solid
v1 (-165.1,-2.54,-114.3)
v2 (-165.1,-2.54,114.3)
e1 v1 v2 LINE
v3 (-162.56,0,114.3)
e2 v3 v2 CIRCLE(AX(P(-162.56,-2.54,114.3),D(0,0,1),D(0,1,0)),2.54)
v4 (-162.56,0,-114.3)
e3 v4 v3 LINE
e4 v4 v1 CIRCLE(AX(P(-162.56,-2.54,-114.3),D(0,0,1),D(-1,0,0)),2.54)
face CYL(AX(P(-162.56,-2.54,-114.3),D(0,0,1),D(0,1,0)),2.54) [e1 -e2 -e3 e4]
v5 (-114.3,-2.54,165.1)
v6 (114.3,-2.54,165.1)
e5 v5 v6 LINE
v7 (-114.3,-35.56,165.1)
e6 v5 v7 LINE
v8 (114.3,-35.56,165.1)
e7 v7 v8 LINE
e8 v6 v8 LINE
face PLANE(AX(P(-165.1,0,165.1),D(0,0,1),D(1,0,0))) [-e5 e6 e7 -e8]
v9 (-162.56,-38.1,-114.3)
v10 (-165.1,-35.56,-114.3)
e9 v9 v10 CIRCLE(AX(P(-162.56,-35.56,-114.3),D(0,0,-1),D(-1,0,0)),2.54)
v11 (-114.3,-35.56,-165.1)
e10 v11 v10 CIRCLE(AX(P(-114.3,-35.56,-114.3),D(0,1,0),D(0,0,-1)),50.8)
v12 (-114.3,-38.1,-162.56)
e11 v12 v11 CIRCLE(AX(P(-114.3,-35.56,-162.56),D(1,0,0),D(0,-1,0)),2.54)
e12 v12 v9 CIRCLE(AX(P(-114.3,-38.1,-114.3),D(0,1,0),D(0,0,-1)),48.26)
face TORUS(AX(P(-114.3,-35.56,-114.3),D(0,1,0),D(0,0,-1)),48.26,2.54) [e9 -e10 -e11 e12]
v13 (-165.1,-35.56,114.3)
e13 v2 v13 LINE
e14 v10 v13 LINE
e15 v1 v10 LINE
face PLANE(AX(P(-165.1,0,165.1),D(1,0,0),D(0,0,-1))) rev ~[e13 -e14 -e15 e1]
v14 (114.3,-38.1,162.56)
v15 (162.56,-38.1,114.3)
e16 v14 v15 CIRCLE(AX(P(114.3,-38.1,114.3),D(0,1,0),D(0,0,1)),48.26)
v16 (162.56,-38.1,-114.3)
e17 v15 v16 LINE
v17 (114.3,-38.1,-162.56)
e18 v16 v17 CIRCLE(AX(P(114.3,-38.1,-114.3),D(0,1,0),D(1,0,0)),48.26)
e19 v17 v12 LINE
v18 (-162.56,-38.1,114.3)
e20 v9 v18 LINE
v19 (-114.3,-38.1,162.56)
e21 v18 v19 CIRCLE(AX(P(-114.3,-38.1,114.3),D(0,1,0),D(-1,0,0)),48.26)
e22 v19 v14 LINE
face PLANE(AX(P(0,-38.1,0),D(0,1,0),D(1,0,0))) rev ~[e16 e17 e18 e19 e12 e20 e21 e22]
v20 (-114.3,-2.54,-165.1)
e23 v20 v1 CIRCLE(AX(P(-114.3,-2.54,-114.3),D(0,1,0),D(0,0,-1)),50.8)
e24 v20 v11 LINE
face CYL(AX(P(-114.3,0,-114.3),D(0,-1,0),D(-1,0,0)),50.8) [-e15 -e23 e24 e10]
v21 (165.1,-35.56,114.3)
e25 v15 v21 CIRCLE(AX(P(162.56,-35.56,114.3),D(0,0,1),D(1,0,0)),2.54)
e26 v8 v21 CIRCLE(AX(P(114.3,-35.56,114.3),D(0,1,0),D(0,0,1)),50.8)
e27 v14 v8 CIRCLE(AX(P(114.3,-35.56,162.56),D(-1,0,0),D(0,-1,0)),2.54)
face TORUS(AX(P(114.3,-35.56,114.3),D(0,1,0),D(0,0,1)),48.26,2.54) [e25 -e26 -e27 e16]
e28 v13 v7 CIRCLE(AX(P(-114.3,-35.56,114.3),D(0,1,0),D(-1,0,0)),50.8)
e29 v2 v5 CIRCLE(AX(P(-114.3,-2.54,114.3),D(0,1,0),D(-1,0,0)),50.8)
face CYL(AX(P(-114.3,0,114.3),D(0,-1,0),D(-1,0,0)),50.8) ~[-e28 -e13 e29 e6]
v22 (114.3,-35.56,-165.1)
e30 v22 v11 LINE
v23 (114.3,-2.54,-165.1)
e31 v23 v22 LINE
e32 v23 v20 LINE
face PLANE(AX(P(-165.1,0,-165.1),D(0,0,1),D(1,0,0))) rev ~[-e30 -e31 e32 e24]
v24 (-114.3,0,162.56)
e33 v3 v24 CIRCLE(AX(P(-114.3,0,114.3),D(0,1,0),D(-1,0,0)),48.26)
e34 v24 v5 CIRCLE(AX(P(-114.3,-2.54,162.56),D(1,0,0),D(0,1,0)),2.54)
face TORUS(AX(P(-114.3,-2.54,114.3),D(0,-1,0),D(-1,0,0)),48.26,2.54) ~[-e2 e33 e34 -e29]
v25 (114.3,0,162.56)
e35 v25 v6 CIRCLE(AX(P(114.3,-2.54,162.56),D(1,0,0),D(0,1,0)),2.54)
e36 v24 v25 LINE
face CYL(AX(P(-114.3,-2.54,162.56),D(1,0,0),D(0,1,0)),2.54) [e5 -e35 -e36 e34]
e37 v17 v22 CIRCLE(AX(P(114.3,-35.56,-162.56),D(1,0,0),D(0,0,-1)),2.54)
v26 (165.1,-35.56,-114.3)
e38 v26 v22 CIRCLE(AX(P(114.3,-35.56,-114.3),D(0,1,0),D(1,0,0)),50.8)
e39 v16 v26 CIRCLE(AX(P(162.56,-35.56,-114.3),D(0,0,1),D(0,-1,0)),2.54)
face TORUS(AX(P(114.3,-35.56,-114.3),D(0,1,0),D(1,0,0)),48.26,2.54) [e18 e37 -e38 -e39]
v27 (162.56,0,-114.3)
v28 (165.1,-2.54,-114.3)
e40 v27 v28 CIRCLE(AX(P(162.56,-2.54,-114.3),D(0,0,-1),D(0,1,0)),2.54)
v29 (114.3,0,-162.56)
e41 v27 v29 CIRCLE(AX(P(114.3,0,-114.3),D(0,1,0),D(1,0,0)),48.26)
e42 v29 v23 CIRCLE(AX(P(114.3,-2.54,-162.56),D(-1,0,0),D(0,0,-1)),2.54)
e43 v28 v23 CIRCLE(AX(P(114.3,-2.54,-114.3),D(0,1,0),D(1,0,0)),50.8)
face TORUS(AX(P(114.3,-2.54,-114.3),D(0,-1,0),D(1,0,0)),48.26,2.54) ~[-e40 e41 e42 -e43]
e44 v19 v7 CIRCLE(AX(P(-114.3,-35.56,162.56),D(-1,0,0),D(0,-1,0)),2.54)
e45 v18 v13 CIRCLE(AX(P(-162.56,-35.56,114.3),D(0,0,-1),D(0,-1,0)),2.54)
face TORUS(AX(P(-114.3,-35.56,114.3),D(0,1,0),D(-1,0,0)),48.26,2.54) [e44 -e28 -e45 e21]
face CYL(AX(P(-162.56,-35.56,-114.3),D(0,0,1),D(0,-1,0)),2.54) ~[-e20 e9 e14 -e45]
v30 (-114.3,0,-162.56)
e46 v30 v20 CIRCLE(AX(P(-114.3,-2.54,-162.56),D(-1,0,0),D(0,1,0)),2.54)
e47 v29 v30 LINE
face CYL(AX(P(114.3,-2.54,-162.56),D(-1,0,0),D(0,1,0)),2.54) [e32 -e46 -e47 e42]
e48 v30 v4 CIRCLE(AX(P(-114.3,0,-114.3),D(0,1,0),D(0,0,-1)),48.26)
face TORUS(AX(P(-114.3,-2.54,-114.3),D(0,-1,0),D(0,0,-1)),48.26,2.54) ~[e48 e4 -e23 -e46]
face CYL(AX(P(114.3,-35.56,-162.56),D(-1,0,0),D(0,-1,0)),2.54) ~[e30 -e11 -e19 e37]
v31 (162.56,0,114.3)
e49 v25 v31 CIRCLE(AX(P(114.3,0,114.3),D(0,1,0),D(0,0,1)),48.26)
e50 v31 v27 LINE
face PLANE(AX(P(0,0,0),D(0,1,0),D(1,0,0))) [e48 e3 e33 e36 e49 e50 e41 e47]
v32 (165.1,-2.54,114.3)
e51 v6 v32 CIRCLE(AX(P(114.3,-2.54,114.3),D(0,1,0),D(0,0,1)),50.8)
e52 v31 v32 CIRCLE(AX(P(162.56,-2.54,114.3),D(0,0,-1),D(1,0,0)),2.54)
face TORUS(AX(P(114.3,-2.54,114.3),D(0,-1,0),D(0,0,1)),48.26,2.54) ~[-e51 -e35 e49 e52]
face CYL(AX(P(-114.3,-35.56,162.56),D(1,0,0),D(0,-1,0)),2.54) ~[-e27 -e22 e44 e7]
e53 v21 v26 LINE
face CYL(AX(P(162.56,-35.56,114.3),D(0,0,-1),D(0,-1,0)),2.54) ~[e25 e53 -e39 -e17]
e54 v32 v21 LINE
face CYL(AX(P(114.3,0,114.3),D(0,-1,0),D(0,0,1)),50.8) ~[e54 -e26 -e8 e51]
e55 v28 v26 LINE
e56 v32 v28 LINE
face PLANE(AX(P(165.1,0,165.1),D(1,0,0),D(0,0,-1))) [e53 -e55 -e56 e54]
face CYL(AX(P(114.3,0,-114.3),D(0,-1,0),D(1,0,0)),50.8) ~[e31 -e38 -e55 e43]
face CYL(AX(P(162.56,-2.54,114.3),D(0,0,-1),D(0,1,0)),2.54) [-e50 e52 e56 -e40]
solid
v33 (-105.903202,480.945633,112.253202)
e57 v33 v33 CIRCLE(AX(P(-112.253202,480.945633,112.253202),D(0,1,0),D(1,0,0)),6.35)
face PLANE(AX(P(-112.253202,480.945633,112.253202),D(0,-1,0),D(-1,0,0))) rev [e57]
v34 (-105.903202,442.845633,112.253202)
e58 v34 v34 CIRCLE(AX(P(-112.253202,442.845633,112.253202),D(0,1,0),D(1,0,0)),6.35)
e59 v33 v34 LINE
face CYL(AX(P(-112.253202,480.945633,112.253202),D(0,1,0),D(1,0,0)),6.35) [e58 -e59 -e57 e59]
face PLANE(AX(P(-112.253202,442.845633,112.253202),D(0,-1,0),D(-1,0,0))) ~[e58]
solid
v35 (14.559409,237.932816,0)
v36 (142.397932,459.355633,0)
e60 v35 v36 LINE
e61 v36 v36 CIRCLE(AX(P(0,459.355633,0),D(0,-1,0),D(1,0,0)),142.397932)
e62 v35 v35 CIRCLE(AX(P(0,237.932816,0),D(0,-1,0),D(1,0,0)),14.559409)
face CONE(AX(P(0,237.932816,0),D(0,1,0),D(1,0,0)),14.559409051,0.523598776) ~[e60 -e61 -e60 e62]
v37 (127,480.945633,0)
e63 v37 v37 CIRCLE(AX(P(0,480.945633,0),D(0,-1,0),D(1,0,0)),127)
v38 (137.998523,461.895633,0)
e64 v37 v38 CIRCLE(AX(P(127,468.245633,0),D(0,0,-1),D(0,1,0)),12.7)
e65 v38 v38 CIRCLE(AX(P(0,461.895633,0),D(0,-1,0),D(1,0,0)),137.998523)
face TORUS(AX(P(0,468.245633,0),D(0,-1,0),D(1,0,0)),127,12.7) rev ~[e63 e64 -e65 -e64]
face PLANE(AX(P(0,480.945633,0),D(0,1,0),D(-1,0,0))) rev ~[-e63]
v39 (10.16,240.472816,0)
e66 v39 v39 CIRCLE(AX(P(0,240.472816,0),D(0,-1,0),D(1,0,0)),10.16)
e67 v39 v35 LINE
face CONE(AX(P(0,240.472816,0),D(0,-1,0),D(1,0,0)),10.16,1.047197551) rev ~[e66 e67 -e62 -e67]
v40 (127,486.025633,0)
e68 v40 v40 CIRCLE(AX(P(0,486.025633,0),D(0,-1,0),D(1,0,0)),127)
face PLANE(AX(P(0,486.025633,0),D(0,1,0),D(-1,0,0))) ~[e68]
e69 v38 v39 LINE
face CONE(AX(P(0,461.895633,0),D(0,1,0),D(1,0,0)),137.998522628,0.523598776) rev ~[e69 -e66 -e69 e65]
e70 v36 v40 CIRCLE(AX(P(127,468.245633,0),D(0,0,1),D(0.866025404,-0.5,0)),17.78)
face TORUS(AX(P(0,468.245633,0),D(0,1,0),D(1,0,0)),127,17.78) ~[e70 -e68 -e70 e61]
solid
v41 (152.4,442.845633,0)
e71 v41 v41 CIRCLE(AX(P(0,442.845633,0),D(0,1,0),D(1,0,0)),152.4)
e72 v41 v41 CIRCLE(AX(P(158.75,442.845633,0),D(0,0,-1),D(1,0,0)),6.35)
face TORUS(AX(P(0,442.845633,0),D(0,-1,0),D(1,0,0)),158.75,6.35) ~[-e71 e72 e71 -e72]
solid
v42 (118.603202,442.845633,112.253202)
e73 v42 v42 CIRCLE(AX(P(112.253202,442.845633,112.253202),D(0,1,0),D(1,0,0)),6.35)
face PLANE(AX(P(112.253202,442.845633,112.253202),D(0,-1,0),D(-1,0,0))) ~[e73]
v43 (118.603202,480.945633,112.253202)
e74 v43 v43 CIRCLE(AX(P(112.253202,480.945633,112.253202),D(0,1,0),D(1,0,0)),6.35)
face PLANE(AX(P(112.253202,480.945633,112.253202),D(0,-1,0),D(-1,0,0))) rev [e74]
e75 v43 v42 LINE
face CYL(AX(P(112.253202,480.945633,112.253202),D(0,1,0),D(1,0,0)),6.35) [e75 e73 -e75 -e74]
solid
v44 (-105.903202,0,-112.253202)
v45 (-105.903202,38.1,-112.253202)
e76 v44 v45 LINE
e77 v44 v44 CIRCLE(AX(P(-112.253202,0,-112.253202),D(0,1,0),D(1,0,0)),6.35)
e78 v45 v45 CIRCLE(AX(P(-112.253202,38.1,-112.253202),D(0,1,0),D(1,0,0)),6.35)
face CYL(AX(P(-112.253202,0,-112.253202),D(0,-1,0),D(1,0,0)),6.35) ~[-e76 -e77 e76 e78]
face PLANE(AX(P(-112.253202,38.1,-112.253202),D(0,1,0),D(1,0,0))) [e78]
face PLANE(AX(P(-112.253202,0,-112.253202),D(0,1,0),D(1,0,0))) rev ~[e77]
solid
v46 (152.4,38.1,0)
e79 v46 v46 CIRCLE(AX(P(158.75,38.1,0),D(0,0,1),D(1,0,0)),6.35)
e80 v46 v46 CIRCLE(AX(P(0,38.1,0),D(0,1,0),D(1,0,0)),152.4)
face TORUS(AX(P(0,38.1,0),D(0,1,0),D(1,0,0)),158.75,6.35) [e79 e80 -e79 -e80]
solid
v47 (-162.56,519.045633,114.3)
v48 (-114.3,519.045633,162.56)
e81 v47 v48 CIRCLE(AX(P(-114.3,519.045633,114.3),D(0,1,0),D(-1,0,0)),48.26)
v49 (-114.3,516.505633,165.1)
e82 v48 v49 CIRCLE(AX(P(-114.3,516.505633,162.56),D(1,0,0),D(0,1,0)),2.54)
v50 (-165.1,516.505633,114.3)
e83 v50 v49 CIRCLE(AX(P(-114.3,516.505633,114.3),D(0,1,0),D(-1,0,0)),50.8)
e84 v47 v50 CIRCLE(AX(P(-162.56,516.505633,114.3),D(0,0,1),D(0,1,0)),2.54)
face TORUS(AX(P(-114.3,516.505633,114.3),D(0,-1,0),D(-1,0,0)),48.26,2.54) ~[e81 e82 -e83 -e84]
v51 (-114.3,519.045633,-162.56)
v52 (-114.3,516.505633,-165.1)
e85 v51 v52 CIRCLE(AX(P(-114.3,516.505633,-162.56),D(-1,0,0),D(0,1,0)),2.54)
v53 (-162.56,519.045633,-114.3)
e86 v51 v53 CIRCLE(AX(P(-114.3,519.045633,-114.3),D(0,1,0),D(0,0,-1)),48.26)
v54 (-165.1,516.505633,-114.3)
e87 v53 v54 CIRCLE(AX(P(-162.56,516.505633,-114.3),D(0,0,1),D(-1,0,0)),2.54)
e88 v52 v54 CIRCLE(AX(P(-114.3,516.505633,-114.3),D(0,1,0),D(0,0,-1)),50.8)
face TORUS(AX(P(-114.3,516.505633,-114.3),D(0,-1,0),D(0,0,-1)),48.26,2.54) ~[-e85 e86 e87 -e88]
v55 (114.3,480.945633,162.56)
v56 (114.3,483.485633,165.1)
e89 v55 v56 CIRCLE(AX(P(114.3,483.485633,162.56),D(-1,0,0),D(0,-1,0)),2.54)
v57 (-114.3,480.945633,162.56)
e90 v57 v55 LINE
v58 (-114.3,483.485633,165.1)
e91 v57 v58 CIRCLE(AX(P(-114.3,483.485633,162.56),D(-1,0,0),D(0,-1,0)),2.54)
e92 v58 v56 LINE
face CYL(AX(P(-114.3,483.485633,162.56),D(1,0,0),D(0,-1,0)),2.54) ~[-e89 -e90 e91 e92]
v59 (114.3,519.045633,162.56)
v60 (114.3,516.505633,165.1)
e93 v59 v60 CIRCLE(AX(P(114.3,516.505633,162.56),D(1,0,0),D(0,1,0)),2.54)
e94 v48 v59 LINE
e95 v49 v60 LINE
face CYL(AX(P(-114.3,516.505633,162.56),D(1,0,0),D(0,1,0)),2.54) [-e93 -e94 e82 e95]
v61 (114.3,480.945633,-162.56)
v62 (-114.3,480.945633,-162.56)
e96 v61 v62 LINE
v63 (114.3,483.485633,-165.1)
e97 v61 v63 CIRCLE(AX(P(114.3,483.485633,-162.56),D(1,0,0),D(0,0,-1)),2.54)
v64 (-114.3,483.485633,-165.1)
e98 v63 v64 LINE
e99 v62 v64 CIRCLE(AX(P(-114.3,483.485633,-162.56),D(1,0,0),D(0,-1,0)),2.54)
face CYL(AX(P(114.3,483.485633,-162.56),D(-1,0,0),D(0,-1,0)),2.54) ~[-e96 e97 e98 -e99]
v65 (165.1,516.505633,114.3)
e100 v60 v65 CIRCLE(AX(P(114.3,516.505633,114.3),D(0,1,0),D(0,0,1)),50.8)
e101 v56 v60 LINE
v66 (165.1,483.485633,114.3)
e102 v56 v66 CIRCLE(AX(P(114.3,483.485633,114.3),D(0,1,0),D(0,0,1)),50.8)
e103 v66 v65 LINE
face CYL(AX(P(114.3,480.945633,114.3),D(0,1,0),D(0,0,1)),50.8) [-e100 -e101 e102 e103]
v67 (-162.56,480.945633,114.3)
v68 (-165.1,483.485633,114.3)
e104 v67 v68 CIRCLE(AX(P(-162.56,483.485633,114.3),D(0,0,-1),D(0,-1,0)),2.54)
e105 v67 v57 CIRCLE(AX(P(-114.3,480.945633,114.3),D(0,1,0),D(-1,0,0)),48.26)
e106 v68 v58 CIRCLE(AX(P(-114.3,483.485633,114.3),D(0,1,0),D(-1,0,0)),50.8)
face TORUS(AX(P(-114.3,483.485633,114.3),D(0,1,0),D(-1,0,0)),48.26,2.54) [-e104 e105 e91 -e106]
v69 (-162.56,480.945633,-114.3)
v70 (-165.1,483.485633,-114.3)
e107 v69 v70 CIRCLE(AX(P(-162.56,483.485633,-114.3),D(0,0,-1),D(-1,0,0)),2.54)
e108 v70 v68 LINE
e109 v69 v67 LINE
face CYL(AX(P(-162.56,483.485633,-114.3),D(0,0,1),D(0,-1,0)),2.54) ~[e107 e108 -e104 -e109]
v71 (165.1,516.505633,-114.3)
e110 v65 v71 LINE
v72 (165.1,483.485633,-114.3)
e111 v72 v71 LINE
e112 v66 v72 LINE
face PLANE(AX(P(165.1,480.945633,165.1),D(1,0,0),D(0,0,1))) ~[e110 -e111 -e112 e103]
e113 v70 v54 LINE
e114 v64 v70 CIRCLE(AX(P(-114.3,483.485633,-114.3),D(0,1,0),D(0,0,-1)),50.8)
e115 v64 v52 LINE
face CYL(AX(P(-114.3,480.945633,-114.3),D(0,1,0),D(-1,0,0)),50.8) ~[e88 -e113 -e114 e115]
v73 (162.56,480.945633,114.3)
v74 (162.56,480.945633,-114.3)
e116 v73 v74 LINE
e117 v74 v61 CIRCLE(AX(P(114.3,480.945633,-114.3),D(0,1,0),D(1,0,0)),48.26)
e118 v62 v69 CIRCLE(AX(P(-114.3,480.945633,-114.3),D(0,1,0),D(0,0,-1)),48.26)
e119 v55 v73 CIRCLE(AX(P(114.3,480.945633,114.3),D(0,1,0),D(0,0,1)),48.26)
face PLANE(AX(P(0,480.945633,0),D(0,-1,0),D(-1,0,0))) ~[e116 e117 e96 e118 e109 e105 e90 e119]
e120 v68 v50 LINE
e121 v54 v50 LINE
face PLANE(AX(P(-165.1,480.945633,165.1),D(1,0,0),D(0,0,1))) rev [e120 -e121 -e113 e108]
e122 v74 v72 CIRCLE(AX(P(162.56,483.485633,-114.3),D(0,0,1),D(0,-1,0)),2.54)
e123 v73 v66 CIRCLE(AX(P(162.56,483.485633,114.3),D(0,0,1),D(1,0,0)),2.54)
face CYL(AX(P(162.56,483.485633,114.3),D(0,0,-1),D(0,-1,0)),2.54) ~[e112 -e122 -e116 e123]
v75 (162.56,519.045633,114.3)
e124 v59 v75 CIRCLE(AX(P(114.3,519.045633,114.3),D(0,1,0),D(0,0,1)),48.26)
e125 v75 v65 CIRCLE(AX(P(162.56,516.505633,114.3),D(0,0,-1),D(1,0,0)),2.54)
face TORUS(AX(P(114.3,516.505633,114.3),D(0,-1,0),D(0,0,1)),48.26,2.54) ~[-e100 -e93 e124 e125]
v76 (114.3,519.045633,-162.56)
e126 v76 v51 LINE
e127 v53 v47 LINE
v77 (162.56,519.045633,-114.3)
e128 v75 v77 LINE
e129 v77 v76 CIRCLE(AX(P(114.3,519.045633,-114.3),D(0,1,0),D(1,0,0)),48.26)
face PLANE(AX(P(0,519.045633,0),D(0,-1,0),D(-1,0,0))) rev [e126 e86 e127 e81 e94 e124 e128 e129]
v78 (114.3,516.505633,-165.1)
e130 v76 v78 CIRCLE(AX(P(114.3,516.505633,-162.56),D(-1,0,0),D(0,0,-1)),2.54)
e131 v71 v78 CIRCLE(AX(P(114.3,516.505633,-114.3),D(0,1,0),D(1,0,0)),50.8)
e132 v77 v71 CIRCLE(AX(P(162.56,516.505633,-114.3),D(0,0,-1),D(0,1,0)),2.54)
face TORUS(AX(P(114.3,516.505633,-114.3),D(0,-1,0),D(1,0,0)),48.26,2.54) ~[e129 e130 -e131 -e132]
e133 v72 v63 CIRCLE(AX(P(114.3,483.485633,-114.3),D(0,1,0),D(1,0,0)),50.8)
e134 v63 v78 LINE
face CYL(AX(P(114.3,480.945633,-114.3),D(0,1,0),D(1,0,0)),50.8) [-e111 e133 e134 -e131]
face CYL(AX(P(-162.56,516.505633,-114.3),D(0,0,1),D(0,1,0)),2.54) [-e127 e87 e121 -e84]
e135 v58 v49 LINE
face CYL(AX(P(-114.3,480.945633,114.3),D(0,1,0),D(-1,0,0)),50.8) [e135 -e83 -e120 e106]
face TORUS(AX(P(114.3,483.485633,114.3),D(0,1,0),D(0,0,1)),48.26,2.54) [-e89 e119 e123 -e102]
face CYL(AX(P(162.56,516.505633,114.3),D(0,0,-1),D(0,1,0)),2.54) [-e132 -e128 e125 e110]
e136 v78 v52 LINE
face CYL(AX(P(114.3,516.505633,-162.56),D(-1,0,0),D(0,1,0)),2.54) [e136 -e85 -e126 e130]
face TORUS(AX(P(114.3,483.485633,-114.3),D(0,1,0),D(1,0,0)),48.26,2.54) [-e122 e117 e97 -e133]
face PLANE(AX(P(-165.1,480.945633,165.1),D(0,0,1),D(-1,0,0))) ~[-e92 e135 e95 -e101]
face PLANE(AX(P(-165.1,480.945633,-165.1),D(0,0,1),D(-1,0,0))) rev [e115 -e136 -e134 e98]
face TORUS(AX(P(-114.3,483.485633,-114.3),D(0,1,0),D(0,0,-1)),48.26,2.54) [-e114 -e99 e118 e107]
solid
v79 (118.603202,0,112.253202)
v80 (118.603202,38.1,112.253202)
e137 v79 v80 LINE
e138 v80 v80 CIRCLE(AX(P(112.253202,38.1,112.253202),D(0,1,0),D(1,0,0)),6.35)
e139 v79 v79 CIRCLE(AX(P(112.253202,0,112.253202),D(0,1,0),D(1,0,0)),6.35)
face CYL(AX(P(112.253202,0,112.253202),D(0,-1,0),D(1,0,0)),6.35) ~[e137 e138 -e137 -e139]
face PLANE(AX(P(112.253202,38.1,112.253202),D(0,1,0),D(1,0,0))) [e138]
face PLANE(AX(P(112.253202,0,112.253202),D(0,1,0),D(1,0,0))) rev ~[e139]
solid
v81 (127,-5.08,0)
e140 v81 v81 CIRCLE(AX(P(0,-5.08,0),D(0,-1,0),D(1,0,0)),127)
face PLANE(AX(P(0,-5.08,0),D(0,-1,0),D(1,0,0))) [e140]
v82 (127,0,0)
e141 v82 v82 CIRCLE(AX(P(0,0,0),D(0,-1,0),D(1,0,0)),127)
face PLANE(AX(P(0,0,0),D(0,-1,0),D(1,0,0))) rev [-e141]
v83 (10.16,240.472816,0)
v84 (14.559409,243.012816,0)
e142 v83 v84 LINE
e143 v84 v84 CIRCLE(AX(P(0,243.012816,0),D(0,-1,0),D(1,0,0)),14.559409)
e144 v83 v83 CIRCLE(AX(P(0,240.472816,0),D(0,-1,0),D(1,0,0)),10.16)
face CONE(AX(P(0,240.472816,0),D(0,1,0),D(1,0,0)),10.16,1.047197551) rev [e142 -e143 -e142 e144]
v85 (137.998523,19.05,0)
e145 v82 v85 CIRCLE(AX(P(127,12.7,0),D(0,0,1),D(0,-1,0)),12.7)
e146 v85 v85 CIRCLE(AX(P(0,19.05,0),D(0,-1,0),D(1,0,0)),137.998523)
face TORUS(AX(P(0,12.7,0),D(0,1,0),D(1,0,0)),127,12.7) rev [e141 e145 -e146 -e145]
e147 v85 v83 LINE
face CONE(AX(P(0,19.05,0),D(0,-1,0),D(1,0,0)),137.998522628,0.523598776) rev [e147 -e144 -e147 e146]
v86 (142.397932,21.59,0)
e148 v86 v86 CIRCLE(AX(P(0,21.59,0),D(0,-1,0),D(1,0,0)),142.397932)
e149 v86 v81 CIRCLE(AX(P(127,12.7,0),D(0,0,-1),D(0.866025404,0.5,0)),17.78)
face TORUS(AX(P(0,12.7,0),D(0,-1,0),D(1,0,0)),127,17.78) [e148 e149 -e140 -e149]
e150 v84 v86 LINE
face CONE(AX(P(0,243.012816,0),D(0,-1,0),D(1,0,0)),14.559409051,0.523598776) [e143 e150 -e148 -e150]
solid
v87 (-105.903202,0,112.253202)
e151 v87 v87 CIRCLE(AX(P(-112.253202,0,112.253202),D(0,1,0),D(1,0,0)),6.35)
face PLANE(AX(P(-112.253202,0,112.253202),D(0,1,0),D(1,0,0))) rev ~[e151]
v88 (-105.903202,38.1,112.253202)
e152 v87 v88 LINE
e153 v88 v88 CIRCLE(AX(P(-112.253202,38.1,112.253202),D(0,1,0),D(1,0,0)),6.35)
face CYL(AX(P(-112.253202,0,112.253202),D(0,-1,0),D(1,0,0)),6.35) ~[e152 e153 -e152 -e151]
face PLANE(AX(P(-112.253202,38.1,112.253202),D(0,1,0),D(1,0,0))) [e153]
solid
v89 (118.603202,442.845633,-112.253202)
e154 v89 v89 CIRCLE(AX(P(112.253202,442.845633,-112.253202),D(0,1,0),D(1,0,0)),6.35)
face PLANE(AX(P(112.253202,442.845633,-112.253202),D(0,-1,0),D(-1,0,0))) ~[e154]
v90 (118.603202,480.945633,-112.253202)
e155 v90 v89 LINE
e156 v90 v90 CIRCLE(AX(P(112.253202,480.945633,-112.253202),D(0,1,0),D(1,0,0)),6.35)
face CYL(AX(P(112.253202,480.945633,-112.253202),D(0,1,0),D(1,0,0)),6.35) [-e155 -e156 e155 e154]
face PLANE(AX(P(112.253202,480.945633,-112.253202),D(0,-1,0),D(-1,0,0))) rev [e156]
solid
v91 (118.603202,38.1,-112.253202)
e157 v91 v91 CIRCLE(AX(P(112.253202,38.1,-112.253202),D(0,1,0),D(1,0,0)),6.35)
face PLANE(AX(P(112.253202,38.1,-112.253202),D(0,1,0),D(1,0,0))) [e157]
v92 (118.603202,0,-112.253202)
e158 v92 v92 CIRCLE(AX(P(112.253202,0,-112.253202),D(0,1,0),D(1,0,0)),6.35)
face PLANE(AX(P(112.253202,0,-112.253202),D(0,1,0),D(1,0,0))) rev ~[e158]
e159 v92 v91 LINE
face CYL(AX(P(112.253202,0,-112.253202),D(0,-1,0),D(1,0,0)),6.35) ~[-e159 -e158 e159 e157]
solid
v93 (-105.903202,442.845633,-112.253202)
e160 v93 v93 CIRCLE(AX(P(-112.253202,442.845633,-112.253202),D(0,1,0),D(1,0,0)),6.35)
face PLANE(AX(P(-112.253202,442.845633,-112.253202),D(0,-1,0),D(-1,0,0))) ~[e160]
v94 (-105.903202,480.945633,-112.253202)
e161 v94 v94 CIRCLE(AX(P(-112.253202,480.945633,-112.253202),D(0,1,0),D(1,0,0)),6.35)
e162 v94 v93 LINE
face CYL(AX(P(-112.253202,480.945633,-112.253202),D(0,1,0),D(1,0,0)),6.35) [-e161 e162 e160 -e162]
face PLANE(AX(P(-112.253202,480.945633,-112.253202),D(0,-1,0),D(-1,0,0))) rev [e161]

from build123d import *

# Parameters (mm, degrees)
SKETCH2_W             = 330.2
SKETCH2_H             = 330.2
BOSS_EXTRUDE1_DEPTH   = 38.1
FILLET1_R             = 50.8
FILLET2_R             = 2.54
SKETCH3_R             = 6.35
BOSS_EXTRUDE2_DEPTH   = 38.1
BOSS_EXTRUDE2_2_DEPTH = 38.1
BOSS_EXTRUDE2_3_DEPTH = 38.1
BOSS_EXTRUDE2_4_DEPTH = 38.1
SWEEP1_PROFILE_R      = 6.35


with BuildPart() as part:
    # Sketch1 → Revolve-Thin1 (revolve)
    with BuildSketch(Plane.XY):
        with BuildLine():
            Line((0, 0), (127, 0))
            ThreePointArc((127, 0), (137.998522628, 6.35), (137.998522628, 19.05))
            Line((137.998522628, 19.05), (10.16, 240.472816356))
            Line((10.16, 240.472816356), (14.559409051, 243.012816356))
            Line((14.559409051, 243.012816356), (142.397931679, 21.59))
            ThreePointArc((142.397931679, 21.59), (142.397931679, 3.81), (127, -5.08))
            Line((127, -5.08), (0, -5.08))
            Line((0, -5.08), (0, 0))
        make_face()
    revolve(axis=Axis((0, 374.282249101, 0), (0, -1, 0)))


with BuildPart() as body_2:
    # Sketch2 → Boss-Extrude1 (new body)
    with BuildSketch(Plane(origin=(0, 0, 0), x_dir=(1, 0, 0), z_dir=(0, 1, 0))):
        Rectangle(SKETCH2_W, SKETCH2_H)
    extrude(amount=-BOSS_EXTRUDE1_DEPTH)

    # Fillet1
    fillet1_edges = [body_2.edges().sort_by_distance(p)[0] for p in [
        (-165.1, -19.05, -165.1),
        (165.1, -19.05, -165.1),
        (165.1, -19.05, 165.1),
        (-165.1, -19.05, 165.1),
    ]]
    fillet(fillet1_edges, radius=FILLET1_R)

    # Fillet2
    fillet2_edges = [body_2.edges().sort_by_distance(p)[0] for p in [
        (0, 0, 165.1),
        (0, -38.1, 165.1),
        (-165.1, 0, 0),
        (165.1, 0, 0),
        (0, 0, -165.1),
        (-150.221024484, 0, 150.221024484),
        (-150.221024484, 0, -150.221024484),
        (150.221024484, 0, -150.221024484),
        (150.221024484, 0, 150.221024484),
        (165.1, -38.1, 0),
        (-165.1, -38.1, 0),
        (0, -38.1, -165.1),
        (-150.221024484, -38.1, 150.221024484),
        (-150.221024484, -38.1, -150.221024484),
        (150.221024484, -38.1, -150.221024484),
        (150.221024484, -38.1, 150.221024484),
    ]]
    fillet(fillet2_edges, radius=FILLET2_R)


with BuildPart() as body_3:
    # Sketch3 → Boss-Extrude2 (new body)
    with BuildSketch(Plane(origin=(0, 0, 0), x_dir=(1, 0, 0), z_dir=(0, 1, 0))):
        with Locations((-112.253201513, 112.253201513)):
            Circle(SKETCH3_R)
    extrude(amount=BOSS_EXTRUDE2_DEPTH)


with BuildPart() as body_4:
    # Sketch3 → Boss-Extrude2 2 (new body)
    with BuildSketch(Plane(origin=(0, 0, 0), x_dir=(1, 0, 0), z_dir=(0, 1, 0))):
        with Locations((112.253201513, 112.253201513)):
            Circle(SKETCH3_R)
    extrude(amount=BOSS_EXTRUDE2_2_DEPTH)


with BuildPart() as body_5:
    # Sketch3 → Boss-Extrude2 3 (new body)
    with BuildSketch(Plane(origin=(0, 0, 0), x_dir=(1, 0, 0), z_dir=(0, 1, 0))):
        with Locations((112.253201513, -112.253201513)):
            Circle(SKETCH3_R)
    extrude(amount=BOSS_EXTRUDE2_3_DEPTH)


with BuildPart() as body_6:
    # Sketch3 → Boss-Extrude2 4 (new body)
    with BuildSketch(Plane(origin=(0, 0, 0), x_dir=(1, 0, 0), z_dir=(0, 1, 0))):
        with Locations((-112.253201513, -112.253201513)):
            Circle(SKETCH3_R)
    extrude(amount=BOSS_EXTRUDE2_4_DEPTH)


with BuildPart() as body_7:
    # Sweep1: sweep along a path in Sketch4
    with BuildLine(Plane(origin=(0, 38.1, 0), x_dir=(1, 0, 0), z_dir=(0, 1, 0))) as sweep1_path:
        CenterArc((0, 0), 158.75, 0, 360)
    # Sweep1 profile (on start of the path) → Sweep1 (sweep)
    with BuildSketch(Plane(origin=(158.75, 38.1, 0), x_dir=(-1, 0, 0), z_dir=(0, 0, -1))):
        Circle(SWEEP1_PROFILE_R)
    sweep(path=sweep1_path.line)


with BuildPart() as body_8:
    # Mirror2: mirrored copy
    add(body_2.part.mirror(Plane(origin=(0, 240.472816356, 0), x_dir=(0, 0, 1), z_dir=(0, -1, 0))))


with BuildPart() as body_9:
    # Mirror2 2: mirrored copy
    add(part.part.mirror(Plane(origin=(0, 240.472816356, 0), x_dir=(0, 0, 1), z_dir=(0, -1, 0))))


with BuildPart() as body_10:
    # Mirror2 3: mirrored copy
    add(body_7.part.mirror(Plane(origin=(0, 240.472816356, 0), x_dir=(0, 0, 1), z_dir=(0, -1, 0))))


with BuildPart() as body_11:
    # Mirror2 4: mirrored copy
    add(body_3.part.mirror(Plane(origin=(0, 240.472816356, 0), x_dir=(0, 0, 1), z_dir=(0, -1, 0))))


with BuildPart() as body_12:
    # Mirror2 5: mirrored copy
    add(body_6.part.mirror(Plane(origin=(0, 240.472816356, 0), x_dir=(0, 0, 1), z_dir=(0, -1, 0))))


with BuildPart() as body_13:
    # Mirror2 6: mirrored copy
    add(body_5.part.mirror(Plane(origin=(0, 240.472816356, 0), x_dir=(0, 0, 1), z_dir=(0, -1, 0))))


with BuildPart() as body_14:
    # Mirror2 7: mirrored copy
    add(body_4.part.mirror(Plane(origin=(0, 240.472816356, 0), x_dir=(0, 0, 1), z_dir=(0, -1, 0))))


solid = Compound([part.part, body_2.part, body_3.part, body_4.part, body_5.part, body_6.part, body_7.part, body_8.part, body_9.part, body_10.part, body_11.part, body_12.part, body_13.part, body_14.part])
